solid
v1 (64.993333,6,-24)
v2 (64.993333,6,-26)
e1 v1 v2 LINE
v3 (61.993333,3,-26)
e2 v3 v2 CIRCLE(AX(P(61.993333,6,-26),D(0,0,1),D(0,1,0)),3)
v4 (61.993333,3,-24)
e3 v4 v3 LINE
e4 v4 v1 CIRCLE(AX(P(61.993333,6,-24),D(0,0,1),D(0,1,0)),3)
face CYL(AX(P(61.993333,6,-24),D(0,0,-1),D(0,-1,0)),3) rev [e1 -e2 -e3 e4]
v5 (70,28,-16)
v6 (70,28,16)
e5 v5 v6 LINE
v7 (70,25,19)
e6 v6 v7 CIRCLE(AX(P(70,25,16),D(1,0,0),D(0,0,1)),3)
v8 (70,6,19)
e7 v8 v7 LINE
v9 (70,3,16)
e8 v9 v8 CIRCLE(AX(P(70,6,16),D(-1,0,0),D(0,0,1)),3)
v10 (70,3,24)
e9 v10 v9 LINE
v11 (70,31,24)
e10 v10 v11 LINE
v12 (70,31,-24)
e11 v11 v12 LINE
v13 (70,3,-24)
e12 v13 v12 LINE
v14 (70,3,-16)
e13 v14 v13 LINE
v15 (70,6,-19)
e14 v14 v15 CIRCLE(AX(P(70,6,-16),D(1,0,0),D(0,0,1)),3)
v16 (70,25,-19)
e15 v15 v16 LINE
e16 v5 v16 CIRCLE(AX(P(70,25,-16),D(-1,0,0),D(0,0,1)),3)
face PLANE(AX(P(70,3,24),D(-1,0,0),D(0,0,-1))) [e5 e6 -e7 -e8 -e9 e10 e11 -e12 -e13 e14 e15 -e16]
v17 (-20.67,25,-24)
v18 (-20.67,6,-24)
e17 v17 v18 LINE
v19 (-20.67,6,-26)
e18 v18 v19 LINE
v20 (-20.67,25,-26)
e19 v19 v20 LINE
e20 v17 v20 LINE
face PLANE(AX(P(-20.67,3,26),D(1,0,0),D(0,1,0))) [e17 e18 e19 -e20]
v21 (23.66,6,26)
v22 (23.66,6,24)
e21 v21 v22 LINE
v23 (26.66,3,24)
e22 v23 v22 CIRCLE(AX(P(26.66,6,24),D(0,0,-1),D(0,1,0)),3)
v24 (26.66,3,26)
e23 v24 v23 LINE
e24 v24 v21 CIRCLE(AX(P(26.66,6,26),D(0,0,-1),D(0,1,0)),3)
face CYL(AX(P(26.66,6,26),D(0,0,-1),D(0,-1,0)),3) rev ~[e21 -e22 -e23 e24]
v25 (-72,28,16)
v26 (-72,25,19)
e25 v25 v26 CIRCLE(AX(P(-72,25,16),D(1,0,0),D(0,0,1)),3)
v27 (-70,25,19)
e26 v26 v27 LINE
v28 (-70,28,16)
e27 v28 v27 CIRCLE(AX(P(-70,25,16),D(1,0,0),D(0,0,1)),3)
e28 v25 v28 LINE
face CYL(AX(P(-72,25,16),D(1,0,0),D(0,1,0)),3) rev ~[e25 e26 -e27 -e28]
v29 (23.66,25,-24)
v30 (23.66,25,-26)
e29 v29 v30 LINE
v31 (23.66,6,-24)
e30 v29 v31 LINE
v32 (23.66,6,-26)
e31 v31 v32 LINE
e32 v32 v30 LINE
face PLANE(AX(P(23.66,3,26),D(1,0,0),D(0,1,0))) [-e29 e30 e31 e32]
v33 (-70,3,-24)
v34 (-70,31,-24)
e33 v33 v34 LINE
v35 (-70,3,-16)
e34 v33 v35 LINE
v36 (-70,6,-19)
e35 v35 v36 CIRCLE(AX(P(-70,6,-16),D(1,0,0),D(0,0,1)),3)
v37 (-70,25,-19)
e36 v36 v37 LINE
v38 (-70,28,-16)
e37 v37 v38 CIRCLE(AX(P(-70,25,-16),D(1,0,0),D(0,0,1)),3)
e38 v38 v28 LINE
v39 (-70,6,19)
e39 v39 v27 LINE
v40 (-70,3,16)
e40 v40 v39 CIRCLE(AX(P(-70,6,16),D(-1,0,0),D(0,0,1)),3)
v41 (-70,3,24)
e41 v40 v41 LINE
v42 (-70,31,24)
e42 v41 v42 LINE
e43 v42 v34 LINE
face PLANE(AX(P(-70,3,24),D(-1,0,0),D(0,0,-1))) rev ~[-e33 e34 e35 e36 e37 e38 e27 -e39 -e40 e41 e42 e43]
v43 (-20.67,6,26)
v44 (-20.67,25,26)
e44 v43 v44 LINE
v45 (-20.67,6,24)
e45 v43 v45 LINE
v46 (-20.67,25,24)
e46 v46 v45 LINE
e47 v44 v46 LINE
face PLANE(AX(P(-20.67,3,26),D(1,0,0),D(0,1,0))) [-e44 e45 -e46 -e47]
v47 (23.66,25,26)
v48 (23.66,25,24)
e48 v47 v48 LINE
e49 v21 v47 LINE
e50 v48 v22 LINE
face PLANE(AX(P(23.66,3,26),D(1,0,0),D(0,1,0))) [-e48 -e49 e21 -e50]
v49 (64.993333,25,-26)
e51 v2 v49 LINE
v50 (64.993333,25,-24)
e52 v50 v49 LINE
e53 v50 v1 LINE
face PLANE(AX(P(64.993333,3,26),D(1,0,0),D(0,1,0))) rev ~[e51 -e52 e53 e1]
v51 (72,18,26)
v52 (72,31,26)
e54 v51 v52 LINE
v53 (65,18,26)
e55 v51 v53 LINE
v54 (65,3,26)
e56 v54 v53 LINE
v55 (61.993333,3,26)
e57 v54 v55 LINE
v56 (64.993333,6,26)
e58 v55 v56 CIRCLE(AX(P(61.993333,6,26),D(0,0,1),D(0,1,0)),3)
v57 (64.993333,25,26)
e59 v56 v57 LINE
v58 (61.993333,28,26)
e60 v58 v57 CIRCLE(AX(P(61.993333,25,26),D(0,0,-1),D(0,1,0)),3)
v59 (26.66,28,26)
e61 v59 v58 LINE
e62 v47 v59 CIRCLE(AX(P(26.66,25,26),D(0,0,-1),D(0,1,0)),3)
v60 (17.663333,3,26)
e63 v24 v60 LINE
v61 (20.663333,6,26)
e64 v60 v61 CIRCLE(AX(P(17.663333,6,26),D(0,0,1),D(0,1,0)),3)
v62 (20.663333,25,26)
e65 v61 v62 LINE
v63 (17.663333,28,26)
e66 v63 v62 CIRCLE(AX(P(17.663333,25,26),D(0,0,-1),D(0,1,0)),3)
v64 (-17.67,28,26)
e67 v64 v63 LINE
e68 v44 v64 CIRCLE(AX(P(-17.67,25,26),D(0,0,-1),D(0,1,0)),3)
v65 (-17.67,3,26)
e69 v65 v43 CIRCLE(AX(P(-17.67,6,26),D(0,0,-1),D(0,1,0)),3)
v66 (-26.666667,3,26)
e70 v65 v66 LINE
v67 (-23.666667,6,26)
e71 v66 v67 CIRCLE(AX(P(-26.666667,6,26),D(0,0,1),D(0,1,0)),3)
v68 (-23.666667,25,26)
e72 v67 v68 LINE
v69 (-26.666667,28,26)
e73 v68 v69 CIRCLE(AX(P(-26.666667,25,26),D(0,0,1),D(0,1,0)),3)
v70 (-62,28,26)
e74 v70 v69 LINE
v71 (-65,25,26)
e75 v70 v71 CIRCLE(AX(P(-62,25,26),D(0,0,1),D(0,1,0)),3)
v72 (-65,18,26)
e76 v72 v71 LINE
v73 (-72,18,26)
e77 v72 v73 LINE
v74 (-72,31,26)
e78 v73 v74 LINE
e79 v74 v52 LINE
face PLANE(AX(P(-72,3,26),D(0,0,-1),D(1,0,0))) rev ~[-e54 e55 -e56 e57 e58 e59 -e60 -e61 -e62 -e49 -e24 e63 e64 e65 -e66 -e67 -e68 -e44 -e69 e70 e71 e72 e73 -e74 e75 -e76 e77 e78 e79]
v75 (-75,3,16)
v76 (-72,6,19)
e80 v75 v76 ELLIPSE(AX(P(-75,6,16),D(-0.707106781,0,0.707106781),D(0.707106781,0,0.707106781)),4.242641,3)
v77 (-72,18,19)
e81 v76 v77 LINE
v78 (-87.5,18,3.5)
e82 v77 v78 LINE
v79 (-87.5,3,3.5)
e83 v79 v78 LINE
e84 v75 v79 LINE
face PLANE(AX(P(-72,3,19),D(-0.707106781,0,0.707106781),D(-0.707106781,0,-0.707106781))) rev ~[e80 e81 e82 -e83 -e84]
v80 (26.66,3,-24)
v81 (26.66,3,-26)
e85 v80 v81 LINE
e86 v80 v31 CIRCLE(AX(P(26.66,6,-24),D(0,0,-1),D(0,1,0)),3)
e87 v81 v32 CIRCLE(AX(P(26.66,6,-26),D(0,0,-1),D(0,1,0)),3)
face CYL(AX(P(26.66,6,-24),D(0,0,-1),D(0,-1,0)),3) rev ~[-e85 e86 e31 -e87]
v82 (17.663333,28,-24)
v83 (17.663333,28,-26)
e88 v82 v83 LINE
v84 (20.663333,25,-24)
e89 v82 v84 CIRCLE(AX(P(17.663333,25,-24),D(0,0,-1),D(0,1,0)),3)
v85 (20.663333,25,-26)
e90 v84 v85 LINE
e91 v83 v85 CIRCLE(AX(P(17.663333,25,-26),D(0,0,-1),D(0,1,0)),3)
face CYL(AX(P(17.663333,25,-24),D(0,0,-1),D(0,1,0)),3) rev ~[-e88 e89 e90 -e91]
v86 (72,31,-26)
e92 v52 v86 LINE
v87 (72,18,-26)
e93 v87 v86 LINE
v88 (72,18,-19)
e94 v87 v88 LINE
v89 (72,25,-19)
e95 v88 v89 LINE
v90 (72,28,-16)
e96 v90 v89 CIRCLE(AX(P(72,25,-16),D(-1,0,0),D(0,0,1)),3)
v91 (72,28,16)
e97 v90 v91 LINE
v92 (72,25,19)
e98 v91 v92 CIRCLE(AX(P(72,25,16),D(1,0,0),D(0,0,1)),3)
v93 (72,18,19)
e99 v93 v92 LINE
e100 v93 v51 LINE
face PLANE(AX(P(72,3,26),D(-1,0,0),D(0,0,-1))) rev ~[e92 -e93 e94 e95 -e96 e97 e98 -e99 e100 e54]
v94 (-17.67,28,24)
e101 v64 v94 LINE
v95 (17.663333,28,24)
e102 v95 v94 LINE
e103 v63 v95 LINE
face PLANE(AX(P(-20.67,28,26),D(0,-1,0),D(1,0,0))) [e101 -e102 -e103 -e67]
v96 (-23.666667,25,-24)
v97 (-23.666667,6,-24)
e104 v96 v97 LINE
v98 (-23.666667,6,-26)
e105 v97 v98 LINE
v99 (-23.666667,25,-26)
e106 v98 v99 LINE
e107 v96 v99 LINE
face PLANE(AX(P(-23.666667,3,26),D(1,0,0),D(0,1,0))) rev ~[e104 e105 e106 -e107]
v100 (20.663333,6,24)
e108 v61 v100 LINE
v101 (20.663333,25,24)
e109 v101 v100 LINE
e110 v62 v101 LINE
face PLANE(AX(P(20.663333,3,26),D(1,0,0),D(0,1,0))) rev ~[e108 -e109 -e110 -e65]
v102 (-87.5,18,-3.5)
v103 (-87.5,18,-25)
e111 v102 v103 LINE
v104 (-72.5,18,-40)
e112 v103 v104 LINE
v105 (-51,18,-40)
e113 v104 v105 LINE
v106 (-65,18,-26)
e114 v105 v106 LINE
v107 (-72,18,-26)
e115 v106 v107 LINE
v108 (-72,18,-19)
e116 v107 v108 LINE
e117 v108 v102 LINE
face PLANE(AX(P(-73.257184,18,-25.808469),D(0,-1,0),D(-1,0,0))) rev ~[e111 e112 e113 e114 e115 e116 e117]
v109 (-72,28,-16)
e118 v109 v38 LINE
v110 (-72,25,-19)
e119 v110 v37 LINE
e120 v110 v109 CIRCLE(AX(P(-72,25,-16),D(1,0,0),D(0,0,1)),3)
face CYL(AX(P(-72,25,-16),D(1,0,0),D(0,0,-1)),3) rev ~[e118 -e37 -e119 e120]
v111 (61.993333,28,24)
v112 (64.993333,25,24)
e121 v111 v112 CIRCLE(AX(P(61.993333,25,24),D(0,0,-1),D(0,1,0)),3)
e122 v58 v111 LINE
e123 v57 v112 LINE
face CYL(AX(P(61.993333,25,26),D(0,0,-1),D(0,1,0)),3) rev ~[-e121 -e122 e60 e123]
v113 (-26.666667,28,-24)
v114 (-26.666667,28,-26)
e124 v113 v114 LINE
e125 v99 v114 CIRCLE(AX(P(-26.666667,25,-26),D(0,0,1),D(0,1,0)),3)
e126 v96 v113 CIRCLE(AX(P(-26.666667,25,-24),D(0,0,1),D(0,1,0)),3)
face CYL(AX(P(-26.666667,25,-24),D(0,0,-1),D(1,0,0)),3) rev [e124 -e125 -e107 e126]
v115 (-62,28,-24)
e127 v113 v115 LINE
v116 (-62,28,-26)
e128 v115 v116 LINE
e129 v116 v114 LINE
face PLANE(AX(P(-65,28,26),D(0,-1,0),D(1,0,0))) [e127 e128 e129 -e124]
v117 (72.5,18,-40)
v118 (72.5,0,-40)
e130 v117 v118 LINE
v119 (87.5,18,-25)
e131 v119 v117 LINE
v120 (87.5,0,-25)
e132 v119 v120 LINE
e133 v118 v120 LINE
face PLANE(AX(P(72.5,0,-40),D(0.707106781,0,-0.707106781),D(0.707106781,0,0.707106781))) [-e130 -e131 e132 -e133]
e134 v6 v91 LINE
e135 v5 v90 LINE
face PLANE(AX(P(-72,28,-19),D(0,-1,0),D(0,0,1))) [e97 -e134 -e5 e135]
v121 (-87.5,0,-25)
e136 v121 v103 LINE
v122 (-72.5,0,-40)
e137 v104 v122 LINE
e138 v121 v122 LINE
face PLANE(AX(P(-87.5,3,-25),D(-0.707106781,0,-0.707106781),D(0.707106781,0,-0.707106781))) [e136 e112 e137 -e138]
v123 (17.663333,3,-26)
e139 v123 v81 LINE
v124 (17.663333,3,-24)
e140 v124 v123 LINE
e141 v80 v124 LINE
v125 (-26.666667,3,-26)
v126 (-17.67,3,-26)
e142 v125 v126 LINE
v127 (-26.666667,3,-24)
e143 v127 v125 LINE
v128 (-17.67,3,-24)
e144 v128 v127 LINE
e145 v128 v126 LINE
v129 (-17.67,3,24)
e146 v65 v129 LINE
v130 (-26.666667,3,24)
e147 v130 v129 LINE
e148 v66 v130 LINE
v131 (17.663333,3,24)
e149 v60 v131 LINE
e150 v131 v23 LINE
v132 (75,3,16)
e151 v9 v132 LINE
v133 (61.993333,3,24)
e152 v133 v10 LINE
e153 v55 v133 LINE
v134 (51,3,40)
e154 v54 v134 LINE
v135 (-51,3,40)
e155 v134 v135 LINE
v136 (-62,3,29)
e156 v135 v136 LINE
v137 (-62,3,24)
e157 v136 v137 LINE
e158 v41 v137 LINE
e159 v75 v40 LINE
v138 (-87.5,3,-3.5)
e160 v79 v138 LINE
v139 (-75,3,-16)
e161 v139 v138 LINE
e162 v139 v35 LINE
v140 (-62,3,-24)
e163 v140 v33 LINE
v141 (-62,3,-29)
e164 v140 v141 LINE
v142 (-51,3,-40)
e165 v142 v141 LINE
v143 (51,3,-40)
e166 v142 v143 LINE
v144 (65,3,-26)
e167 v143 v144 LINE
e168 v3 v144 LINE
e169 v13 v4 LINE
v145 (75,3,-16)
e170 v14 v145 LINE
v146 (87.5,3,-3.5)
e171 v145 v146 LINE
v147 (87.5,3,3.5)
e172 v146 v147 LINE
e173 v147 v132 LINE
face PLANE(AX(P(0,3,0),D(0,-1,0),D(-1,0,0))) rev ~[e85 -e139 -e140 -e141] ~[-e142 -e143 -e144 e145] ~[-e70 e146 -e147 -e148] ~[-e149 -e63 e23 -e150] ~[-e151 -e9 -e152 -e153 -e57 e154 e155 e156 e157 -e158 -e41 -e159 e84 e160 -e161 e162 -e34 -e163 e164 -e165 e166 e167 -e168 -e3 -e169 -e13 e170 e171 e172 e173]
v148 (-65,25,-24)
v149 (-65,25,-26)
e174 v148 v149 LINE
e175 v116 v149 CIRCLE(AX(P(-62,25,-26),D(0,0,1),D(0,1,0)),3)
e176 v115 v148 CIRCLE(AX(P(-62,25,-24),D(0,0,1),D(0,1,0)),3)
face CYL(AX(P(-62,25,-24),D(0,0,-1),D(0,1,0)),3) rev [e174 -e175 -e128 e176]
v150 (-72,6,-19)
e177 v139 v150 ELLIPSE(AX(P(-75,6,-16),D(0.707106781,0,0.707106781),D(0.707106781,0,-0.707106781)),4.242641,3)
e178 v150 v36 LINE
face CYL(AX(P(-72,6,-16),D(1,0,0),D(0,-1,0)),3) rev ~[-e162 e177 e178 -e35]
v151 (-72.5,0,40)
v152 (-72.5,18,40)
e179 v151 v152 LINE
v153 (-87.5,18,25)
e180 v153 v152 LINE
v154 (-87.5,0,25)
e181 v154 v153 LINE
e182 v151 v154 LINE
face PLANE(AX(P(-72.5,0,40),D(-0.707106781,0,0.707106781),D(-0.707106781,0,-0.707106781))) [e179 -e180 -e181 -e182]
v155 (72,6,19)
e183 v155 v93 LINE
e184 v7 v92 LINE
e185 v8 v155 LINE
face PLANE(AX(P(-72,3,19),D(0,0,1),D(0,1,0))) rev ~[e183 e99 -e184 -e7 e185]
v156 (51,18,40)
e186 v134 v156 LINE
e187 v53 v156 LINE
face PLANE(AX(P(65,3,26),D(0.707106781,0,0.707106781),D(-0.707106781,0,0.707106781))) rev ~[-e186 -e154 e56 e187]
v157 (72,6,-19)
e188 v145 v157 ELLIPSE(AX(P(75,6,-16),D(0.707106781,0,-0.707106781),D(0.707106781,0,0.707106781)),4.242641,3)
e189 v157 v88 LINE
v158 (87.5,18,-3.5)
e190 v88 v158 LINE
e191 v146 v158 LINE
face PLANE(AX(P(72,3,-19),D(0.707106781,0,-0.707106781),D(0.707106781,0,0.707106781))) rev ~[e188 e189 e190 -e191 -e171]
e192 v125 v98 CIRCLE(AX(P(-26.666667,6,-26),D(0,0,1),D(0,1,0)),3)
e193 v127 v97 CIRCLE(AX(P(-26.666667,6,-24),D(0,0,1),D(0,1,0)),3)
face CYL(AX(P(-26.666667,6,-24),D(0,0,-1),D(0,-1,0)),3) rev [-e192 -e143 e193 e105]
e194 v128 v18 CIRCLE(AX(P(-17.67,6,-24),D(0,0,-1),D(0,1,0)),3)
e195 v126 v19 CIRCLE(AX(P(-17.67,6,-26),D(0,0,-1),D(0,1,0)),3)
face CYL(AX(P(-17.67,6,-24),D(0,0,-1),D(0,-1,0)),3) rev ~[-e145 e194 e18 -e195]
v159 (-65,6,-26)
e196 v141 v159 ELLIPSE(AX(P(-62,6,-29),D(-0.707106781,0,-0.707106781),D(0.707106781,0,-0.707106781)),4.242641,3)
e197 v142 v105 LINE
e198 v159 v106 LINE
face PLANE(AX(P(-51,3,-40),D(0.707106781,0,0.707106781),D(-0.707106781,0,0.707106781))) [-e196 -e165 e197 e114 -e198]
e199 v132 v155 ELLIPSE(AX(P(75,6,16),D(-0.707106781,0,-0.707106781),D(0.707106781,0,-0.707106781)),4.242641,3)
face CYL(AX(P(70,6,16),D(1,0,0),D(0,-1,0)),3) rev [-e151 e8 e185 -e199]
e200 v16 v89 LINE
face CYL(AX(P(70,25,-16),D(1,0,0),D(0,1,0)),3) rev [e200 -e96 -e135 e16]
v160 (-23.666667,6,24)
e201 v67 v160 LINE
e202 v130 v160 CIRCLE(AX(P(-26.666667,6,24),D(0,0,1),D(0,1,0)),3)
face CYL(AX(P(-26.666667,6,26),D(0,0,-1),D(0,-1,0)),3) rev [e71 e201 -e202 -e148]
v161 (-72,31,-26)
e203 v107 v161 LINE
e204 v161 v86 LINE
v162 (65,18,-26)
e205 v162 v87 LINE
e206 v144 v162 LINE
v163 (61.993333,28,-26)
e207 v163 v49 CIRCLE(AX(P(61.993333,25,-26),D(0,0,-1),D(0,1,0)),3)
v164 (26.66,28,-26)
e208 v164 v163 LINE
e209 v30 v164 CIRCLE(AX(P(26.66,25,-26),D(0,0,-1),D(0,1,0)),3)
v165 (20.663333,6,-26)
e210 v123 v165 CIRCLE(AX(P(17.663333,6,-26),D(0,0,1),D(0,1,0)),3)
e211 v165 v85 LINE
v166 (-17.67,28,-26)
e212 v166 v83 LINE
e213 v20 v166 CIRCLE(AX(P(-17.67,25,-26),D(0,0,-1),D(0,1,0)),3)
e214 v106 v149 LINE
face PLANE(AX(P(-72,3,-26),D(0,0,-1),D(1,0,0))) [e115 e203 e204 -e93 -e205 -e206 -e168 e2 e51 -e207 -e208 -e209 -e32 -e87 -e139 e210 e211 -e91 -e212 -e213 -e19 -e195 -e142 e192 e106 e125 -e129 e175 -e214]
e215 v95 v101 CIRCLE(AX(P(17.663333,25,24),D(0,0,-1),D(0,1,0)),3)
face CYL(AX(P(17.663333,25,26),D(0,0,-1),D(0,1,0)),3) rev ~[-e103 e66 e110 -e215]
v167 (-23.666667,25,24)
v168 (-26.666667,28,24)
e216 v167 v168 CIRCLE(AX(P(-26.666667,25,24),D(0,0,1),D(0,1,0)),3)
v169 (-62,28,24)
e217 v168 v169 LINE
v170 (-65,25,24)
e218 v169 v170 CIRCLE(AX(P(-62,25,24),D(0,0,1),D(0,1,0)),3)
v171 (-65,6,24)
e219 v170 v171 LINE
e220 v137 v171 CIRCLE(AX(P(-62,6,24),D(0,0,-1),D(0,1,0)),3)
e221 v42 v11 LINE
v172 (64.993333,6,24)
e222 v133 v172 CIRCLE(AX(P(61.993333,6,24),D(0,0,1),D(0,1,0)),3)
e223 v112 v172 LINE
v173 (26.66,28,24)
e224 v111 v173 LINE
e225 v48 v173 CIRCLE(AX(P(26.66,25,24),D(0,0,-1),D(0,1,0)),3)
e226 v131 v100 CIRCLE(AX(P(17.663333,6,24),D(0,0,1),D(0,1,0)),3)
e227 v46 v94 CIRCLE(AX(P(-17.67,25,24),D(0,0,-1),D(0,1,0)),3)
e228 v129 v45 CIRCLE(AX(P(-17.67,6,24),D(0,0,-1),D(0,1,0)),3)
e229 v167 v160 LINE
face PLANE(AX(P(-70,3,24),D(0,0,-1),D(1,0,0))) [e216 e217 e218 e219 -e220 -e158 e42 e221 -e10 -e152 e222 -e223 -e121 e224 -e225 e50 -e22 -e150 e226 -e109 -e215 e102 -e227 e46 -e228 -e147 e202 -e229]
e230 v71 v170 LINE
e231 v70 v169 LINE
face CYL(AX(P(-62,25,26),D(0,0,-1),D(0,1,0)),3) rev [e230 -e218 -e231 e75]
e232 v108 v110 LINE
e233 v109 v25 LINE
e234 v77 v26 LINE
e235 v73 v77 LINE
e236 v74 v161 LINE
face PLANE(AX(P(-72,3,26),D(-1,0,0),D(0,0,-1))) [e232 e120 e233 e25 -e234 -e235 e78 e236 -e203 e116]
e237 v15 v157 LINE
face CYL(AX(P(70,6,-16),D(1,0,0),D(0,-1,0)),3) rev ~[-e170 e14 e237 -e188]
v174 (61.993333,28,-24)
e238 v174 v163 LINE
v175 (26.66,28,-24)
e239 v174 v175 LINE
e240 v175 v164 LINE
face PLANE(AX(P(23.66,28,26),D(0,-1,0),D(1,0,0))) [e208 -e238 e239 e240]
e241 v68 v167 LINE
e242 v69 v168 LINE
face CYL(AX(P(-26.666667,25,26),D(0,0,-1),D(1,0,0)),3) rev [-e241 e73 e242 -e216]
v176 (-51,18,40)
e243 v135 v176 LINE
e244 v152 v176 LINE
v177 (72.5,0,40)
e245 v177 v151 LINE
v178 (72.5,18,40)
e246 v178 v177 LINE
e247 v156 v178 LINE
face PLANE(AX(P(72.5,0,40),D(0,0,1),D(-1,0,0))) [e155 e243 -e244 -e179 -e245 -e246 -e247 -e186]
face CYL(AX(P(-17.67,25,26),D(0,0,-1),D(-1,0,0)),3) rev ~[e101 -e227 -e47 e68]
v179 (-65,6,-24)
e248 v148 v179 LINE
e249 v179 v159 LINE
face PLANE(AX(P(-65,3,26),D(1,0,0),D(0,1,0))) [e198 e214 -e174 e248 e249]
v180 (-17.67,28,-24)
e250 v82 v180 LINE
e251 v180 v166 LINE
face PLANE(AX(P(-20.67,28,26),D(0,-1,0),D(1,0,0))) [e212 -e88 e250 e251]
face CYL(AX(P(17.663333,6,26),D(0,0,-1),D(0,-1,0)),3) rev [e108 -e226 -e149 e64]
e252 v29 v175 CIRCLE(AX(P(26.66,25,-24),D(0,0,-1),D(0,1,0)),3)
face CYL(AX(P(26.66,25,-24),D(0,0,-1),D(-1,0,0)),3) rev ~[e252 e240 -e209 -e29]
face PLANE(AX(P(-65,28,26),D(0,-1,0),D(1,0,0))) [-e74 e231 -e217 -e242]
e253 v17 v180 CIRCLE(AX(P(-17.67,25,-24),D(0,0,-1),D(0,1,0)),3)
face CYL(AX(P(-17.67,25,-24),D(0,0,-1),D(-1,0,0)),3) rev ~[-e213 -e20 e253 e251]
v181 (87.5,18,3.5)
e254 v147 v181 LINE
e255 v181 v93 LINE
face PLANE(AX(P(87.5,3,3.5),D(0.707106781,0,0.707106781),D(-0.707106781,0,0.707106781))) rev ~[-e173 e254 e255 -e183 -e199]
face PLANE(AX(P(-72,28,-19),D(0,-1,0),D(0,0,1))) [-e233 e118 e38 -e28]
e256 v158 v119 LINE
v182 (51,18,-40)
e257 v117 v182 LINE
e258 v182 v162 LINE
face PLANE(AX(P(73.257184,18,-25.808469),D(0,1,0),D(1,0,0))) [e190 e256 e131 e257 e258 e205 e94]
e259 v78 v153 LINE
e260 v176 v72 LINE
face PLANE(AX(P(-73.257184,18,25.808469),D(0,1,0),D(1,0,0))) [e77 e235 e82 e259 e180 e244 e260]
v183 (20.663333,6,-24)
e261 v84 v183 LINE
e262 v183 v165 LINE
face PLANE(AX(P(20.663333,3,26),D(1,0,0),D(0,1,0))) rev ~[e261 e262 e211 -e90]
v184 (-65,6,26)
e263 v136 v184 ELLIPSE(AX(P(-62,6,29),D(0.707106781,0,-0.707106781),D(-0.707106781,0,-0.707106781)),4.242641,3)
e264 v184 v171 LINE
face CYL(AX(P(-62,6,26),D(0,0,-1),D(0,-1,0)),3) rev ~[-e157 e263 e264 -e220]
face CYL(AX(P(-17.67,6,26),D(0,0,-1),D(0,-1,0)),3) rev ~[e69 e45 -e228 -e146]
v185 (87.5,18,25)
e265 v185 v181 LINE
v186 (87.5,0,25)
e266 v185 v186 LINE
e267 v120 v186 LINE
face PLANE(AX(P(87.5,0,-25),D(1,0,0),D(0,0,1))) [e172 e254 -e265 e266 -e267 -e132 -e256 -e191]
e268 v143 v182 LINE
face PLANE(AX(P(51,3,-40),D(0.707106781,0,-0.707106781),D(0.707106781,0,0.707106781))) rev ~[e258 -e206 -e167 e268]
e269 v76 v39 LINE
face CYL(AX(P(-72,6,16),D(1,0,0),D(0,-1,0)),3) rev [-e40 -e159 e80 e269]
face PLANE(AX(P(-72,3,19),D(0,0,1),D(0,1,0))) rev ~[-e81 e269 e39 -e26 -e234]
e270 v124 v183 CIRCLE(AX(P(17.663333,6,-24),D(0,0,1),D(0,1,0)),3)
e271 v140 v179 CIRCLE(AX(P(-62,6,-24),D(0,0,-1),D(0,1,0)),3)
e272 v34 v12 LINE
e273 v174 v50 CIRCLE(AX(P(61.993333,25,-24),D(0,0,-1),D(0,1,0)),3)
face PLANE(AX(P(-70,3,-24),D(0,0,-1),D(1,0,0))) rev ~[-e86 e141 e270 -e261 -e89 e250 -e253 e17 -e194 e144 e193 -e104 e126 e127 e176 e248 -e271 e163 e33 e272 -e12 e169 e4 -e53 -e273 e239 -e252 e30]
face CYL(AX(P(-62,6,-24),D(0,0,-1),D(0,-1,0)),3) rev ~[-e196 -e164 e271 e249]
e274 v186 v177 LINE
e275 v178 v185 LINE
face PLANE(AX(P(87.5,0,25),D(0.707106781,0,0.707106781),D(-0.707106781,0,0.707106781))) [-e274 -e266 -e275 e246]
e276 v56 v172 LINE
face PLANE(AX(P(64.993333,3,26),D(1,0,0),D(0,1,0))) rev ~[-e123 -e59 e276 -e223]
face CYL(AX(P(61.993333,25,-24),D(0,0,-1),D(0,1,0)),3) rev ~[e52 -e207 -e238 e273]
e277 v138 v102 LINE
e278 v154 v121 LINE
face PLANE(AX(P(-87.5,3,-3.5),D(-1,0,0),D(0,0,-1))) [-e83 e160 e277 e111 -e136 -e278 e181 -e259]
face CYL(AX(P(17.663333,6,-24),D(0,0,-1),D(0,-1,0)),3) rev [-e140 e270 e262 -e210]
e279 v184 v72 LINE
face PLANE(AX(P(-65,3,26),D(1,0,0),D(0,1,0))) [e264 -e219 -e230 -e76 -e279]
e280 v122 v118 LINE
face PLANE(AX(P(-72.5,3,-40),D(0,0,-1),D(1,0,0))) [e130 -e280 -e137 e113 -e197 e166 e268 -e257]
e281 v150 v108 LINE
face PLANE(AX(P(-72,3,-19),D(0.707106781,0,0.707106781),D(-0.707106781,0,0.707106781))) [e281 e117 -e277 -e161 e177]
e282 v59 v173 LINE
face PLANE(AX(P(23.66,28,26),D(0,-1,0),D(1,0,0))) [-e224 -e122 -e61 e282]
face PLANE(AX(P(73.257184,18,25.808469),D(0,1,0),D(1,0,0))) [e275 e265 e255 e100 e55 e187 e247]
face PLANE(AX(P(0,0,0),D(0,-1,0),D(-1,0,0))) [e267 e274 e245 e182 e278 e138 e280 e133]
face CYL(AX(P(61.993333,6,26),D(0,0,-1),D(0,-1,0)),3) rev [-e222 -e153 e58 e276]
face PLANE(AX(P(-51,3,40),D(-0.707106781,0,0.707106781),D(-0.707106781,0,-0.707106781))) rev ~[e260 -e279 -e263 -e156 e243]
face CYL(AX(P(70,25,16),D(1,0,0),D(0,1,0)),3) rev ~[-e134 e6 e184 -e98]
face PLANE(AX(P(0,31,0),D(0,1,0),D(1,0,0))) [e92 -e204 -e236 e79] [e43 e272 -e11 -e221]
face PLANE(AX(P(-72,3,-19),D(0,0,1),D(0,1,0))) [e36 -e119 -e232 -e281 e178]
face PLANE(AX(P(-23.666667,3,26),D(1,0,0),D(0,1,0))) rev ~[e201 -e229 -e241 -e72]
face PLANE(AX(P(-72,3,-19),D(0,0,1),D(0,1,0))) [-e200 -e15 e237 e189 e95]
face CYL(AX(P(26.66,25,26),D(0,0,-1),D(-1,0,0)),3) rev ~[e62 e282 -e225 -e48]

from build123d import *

# Parameters (mm, degrees)
BASE_EXTRUSION_DEPTH         = 3
SKETCH_2_W                   = 144
SKETCH_2_H                   = 52
SKETCH_2_W_2                 = 140
SKETCH_2_H_2                 = 48
BATTERY_CASE_EXTRUSION_DEPTH = 28
BATTERY_CAGE_CUT_1_REACH     = 115.9
SKETCH_3_W                   = 41.333333333
SKETCH_3_H                   = 25
BATTERY_CAGE_CUT_2_REACH     = 169.336
SKETCH_4_W                   = 38
SKETCH_4_H                   = 25
EXTRUDE_1_DEPTH              = 15
FILLET_1_R                   = 3


with BuildPart() as part:
    # Эскиз1 → Base extrusion (new body)
    with BuildSketch(Plane(origin=(0, 0, 0), x_dir=(1, 0, 0), z_dir=(0, 1, 0))):
        Polygon((-87.5, 25), (-72.5, 40), (72.5, 40), (87.5, 25), (87.5, -25), (72.5, -40), (-72.5, -40), (-87.5, -25), align=None)
    extrude(amount=BASE_EXTRUSION_DEPTH)

    # Эскиз2 → Battery case extrusion (add)
    with BuildSketch(Plane(origin=(0, 3, 0), x_dir=(1, 0, 0), z_dir=(0, 1, 0))):
        Rectangle(SKETCH_2_W, SKETCH_2_H)
        Rectangle(SKETCH_2_W_2, SKETCH_2_H_2, mode=Mode.SUBTRACT)
    extrude(amount=BATTERY_CASE_EXTRUSION_DEPTH)

    # Battery cage cut 1: up to this face of the body (flat: up to its plane)
    battery_cage_cut_1_end = Plane(part.part.faces().sort_by_distance((0, 17, -26))[0])
    # Эскиз3 → Battery cage cut 1 (cut, up to the picked face)
    with BuildSketch(Plane.XY.offset(26), mode=Mode.PRIVATE) as battery_cage_cut_1_sk1:
        with Locations((-44.333333334, 15.5)):
            Rectangle(SKETCH_3_W, SKETCH_3_H)
    battery_cage_cut_1_tool1 = split(extrude(battery_cage_cut_1_sk1.sketch, amount=-BATTERY_CAGE_CUT_1_REACH, mode=Mode.PRIVATE), bisect_by=battery_cage_cut_1_end, keep=Keep.BOTH, mode=Mode.PRIVATE)
    # Эскиз3 → Battery cage cut 1 (cut, up to the picked face)
    with BuildSketch(Plane.XY.offset(26), mode=Mode.PRIVATE) as battery_cage_cut_1_sk2:
        with Locations((-0.003333334, 15.5)):
            Rectangle(SKETCH_3_W, SKETCH_3_H)
    battery_cage_cut_1_tool2 = split(extrude(battery_cage_cut_1_sk2.sketch, amount=-BATTERY_CAGE_CUT_1_REACH, mode=Mode.PRIVATE), bisect_by=battery_cage_cut_1_end, keep=Keep.BOTH, mode=Mode.PRIVATE)
    # Эскиз3 → Battery cage cut 1 (cut, up to the picked face)
    with BuildSketch(Plane.XY.offset(26), mode=Mode.PRIVATE) as battery_cage_cut_1_sk3:
        with Locations((44.326666667, 15.5)):
            Rectangle(SKETCH_3_W, SKETCH_3_H)
    battery_cage_cut_1_tool3 = split(extrude(battery_cage_cut_1_sk3.sketch, amount=-BATTERY_CAGE_CUT_1_REACH, mode=Mode.PRIVATE), bisect_by=battery_cage_cut_1_end, keep=Keep.BOTH, mode=Mode.PRIVATE)
    add(battery_cage_cut_1_tool1.solids().sort_by(Axis((-44.333333, 15.5, 26), (0, 0, -1)))[0], mode=Mode.SUBTRACT)
    add(battery_cage_cut_1_tool2.solids().sort_by(Axis((-0.003333, 15.5, 26), (0, 0, -1)))[0], mode=Mode.SUBTRACT)
    add(battery_cage_cut_1_tool3.solids().sort_by(Axis((44.326667, 15.5, 26), (0, 0, -1)))[0], mode=Mode.SUBTRACT)

    # Battery cage cut 2: up to this face of the body (flat: up to its plane)
    battery_cage_cut_2_end = Plane(part.part.faces().sort_by_distance((72, 17, 0))[0])
    # Эскиз4 → Battery cage cut 2 (cut, up to the picked face)
    with BuildSketch(Plane.ZY.offset(72), mode=Mode.PRIVATE) as battery_cage_cut_2_sk1:
        with Locations((0, 15.5)):
            Rectangle(SKETCH_4_W, SKETCH_4_H)
    battery_cage_cut_2_tool1 = split(extrude(battery_cage_cut_2_sk1.sketch, amount=-BATTERY_CAGE_CUT_2_REACH, mode=Mode.PRIVATE), bisect_by=battery_cage_cut_2_end, keep=Keep.BOTH, mode=Mode.PRIVATE)
    add(battery_cage_cut_2_tool1.solids().sort_by(Axis((-72, 15.5, 0), (1, 0, 0)))[0], mode=Mode.SUBTRACT)

    # Эскиз6 → Бобышка-Вытянуть1 (add)
    with BuildSketch(Plane(origin=(0, 3, 0), x_dir=(1, 0, 0), z_dir=(0, 1, 0))):
        Polygon((-87.5, 25), (-72.5, 40), (-51, 40), (-65, 26), (-72, 26), (-72, 19), (-87.5, 3.5), align=None)
        Polygon((65, 26), (72, 26), (72, 19), (87.5, 3.5), (87.5, 25), (72.5, 40), (51, 40), align=None)
        Polygon((-65, -26), (-72, -26), (-72, -19), (-87.5, -3.5), (-87.5, -25), (-72.5, -40), (-51, -40), align=None)
        Polygon((65, -26), (51, -40), (72.5, -40), (87.5, -25), (87.5, -3.5), (72, -19), (72, -26), align=None)
    extrude(amount=EXTRUDE_1_DEPTH)

    # Скругление1
    fillet_1_edges = [part.edges().sort_by_distance(p)[0] for p in [
        (71, 28, -19),
        (71, 3, 19),
        (71, 3, -19),
        (71, 28, 19),
        (-71, 3, -19),
        (-71, 28, -19),
        (-71, 28, 19),
        (-71, 3, 19),
        (-65, 28, -25),
        (-23.666666667, 3, -25),
        (-65, 3, -25),
        (-23.666666667, 28, -25),
        (-65, 3, 25),
        (-65, 28, 25),
        (-23.666666667, 28, 25),
        (-23.666666667, 3, 25),
        (-20.67, 28, -25),
        (20.663333333, 3, -25),
        (20.663333333, 28, -25),
        (-20.67, 3, -25),
        (-20.67, 28, 25),
        (20.663333333, 28, 25),
        (20.663333333, 3, 25),
        (-20.67, 3, 25),
        (23.66, 28, -25),
        (64.993333333, 3, -25),
        (64.993333333, 28, -25),
        (23.66, 3, -25),
        (23.66, 28, 25),
        (64.993333333, 28, 25),
        (64.993333333, 3, 25),
        (23.66, 3, 25),
    ]]
    fillet(fillet_1_edges, radius=FILLET_1_R)


solid = part.part
